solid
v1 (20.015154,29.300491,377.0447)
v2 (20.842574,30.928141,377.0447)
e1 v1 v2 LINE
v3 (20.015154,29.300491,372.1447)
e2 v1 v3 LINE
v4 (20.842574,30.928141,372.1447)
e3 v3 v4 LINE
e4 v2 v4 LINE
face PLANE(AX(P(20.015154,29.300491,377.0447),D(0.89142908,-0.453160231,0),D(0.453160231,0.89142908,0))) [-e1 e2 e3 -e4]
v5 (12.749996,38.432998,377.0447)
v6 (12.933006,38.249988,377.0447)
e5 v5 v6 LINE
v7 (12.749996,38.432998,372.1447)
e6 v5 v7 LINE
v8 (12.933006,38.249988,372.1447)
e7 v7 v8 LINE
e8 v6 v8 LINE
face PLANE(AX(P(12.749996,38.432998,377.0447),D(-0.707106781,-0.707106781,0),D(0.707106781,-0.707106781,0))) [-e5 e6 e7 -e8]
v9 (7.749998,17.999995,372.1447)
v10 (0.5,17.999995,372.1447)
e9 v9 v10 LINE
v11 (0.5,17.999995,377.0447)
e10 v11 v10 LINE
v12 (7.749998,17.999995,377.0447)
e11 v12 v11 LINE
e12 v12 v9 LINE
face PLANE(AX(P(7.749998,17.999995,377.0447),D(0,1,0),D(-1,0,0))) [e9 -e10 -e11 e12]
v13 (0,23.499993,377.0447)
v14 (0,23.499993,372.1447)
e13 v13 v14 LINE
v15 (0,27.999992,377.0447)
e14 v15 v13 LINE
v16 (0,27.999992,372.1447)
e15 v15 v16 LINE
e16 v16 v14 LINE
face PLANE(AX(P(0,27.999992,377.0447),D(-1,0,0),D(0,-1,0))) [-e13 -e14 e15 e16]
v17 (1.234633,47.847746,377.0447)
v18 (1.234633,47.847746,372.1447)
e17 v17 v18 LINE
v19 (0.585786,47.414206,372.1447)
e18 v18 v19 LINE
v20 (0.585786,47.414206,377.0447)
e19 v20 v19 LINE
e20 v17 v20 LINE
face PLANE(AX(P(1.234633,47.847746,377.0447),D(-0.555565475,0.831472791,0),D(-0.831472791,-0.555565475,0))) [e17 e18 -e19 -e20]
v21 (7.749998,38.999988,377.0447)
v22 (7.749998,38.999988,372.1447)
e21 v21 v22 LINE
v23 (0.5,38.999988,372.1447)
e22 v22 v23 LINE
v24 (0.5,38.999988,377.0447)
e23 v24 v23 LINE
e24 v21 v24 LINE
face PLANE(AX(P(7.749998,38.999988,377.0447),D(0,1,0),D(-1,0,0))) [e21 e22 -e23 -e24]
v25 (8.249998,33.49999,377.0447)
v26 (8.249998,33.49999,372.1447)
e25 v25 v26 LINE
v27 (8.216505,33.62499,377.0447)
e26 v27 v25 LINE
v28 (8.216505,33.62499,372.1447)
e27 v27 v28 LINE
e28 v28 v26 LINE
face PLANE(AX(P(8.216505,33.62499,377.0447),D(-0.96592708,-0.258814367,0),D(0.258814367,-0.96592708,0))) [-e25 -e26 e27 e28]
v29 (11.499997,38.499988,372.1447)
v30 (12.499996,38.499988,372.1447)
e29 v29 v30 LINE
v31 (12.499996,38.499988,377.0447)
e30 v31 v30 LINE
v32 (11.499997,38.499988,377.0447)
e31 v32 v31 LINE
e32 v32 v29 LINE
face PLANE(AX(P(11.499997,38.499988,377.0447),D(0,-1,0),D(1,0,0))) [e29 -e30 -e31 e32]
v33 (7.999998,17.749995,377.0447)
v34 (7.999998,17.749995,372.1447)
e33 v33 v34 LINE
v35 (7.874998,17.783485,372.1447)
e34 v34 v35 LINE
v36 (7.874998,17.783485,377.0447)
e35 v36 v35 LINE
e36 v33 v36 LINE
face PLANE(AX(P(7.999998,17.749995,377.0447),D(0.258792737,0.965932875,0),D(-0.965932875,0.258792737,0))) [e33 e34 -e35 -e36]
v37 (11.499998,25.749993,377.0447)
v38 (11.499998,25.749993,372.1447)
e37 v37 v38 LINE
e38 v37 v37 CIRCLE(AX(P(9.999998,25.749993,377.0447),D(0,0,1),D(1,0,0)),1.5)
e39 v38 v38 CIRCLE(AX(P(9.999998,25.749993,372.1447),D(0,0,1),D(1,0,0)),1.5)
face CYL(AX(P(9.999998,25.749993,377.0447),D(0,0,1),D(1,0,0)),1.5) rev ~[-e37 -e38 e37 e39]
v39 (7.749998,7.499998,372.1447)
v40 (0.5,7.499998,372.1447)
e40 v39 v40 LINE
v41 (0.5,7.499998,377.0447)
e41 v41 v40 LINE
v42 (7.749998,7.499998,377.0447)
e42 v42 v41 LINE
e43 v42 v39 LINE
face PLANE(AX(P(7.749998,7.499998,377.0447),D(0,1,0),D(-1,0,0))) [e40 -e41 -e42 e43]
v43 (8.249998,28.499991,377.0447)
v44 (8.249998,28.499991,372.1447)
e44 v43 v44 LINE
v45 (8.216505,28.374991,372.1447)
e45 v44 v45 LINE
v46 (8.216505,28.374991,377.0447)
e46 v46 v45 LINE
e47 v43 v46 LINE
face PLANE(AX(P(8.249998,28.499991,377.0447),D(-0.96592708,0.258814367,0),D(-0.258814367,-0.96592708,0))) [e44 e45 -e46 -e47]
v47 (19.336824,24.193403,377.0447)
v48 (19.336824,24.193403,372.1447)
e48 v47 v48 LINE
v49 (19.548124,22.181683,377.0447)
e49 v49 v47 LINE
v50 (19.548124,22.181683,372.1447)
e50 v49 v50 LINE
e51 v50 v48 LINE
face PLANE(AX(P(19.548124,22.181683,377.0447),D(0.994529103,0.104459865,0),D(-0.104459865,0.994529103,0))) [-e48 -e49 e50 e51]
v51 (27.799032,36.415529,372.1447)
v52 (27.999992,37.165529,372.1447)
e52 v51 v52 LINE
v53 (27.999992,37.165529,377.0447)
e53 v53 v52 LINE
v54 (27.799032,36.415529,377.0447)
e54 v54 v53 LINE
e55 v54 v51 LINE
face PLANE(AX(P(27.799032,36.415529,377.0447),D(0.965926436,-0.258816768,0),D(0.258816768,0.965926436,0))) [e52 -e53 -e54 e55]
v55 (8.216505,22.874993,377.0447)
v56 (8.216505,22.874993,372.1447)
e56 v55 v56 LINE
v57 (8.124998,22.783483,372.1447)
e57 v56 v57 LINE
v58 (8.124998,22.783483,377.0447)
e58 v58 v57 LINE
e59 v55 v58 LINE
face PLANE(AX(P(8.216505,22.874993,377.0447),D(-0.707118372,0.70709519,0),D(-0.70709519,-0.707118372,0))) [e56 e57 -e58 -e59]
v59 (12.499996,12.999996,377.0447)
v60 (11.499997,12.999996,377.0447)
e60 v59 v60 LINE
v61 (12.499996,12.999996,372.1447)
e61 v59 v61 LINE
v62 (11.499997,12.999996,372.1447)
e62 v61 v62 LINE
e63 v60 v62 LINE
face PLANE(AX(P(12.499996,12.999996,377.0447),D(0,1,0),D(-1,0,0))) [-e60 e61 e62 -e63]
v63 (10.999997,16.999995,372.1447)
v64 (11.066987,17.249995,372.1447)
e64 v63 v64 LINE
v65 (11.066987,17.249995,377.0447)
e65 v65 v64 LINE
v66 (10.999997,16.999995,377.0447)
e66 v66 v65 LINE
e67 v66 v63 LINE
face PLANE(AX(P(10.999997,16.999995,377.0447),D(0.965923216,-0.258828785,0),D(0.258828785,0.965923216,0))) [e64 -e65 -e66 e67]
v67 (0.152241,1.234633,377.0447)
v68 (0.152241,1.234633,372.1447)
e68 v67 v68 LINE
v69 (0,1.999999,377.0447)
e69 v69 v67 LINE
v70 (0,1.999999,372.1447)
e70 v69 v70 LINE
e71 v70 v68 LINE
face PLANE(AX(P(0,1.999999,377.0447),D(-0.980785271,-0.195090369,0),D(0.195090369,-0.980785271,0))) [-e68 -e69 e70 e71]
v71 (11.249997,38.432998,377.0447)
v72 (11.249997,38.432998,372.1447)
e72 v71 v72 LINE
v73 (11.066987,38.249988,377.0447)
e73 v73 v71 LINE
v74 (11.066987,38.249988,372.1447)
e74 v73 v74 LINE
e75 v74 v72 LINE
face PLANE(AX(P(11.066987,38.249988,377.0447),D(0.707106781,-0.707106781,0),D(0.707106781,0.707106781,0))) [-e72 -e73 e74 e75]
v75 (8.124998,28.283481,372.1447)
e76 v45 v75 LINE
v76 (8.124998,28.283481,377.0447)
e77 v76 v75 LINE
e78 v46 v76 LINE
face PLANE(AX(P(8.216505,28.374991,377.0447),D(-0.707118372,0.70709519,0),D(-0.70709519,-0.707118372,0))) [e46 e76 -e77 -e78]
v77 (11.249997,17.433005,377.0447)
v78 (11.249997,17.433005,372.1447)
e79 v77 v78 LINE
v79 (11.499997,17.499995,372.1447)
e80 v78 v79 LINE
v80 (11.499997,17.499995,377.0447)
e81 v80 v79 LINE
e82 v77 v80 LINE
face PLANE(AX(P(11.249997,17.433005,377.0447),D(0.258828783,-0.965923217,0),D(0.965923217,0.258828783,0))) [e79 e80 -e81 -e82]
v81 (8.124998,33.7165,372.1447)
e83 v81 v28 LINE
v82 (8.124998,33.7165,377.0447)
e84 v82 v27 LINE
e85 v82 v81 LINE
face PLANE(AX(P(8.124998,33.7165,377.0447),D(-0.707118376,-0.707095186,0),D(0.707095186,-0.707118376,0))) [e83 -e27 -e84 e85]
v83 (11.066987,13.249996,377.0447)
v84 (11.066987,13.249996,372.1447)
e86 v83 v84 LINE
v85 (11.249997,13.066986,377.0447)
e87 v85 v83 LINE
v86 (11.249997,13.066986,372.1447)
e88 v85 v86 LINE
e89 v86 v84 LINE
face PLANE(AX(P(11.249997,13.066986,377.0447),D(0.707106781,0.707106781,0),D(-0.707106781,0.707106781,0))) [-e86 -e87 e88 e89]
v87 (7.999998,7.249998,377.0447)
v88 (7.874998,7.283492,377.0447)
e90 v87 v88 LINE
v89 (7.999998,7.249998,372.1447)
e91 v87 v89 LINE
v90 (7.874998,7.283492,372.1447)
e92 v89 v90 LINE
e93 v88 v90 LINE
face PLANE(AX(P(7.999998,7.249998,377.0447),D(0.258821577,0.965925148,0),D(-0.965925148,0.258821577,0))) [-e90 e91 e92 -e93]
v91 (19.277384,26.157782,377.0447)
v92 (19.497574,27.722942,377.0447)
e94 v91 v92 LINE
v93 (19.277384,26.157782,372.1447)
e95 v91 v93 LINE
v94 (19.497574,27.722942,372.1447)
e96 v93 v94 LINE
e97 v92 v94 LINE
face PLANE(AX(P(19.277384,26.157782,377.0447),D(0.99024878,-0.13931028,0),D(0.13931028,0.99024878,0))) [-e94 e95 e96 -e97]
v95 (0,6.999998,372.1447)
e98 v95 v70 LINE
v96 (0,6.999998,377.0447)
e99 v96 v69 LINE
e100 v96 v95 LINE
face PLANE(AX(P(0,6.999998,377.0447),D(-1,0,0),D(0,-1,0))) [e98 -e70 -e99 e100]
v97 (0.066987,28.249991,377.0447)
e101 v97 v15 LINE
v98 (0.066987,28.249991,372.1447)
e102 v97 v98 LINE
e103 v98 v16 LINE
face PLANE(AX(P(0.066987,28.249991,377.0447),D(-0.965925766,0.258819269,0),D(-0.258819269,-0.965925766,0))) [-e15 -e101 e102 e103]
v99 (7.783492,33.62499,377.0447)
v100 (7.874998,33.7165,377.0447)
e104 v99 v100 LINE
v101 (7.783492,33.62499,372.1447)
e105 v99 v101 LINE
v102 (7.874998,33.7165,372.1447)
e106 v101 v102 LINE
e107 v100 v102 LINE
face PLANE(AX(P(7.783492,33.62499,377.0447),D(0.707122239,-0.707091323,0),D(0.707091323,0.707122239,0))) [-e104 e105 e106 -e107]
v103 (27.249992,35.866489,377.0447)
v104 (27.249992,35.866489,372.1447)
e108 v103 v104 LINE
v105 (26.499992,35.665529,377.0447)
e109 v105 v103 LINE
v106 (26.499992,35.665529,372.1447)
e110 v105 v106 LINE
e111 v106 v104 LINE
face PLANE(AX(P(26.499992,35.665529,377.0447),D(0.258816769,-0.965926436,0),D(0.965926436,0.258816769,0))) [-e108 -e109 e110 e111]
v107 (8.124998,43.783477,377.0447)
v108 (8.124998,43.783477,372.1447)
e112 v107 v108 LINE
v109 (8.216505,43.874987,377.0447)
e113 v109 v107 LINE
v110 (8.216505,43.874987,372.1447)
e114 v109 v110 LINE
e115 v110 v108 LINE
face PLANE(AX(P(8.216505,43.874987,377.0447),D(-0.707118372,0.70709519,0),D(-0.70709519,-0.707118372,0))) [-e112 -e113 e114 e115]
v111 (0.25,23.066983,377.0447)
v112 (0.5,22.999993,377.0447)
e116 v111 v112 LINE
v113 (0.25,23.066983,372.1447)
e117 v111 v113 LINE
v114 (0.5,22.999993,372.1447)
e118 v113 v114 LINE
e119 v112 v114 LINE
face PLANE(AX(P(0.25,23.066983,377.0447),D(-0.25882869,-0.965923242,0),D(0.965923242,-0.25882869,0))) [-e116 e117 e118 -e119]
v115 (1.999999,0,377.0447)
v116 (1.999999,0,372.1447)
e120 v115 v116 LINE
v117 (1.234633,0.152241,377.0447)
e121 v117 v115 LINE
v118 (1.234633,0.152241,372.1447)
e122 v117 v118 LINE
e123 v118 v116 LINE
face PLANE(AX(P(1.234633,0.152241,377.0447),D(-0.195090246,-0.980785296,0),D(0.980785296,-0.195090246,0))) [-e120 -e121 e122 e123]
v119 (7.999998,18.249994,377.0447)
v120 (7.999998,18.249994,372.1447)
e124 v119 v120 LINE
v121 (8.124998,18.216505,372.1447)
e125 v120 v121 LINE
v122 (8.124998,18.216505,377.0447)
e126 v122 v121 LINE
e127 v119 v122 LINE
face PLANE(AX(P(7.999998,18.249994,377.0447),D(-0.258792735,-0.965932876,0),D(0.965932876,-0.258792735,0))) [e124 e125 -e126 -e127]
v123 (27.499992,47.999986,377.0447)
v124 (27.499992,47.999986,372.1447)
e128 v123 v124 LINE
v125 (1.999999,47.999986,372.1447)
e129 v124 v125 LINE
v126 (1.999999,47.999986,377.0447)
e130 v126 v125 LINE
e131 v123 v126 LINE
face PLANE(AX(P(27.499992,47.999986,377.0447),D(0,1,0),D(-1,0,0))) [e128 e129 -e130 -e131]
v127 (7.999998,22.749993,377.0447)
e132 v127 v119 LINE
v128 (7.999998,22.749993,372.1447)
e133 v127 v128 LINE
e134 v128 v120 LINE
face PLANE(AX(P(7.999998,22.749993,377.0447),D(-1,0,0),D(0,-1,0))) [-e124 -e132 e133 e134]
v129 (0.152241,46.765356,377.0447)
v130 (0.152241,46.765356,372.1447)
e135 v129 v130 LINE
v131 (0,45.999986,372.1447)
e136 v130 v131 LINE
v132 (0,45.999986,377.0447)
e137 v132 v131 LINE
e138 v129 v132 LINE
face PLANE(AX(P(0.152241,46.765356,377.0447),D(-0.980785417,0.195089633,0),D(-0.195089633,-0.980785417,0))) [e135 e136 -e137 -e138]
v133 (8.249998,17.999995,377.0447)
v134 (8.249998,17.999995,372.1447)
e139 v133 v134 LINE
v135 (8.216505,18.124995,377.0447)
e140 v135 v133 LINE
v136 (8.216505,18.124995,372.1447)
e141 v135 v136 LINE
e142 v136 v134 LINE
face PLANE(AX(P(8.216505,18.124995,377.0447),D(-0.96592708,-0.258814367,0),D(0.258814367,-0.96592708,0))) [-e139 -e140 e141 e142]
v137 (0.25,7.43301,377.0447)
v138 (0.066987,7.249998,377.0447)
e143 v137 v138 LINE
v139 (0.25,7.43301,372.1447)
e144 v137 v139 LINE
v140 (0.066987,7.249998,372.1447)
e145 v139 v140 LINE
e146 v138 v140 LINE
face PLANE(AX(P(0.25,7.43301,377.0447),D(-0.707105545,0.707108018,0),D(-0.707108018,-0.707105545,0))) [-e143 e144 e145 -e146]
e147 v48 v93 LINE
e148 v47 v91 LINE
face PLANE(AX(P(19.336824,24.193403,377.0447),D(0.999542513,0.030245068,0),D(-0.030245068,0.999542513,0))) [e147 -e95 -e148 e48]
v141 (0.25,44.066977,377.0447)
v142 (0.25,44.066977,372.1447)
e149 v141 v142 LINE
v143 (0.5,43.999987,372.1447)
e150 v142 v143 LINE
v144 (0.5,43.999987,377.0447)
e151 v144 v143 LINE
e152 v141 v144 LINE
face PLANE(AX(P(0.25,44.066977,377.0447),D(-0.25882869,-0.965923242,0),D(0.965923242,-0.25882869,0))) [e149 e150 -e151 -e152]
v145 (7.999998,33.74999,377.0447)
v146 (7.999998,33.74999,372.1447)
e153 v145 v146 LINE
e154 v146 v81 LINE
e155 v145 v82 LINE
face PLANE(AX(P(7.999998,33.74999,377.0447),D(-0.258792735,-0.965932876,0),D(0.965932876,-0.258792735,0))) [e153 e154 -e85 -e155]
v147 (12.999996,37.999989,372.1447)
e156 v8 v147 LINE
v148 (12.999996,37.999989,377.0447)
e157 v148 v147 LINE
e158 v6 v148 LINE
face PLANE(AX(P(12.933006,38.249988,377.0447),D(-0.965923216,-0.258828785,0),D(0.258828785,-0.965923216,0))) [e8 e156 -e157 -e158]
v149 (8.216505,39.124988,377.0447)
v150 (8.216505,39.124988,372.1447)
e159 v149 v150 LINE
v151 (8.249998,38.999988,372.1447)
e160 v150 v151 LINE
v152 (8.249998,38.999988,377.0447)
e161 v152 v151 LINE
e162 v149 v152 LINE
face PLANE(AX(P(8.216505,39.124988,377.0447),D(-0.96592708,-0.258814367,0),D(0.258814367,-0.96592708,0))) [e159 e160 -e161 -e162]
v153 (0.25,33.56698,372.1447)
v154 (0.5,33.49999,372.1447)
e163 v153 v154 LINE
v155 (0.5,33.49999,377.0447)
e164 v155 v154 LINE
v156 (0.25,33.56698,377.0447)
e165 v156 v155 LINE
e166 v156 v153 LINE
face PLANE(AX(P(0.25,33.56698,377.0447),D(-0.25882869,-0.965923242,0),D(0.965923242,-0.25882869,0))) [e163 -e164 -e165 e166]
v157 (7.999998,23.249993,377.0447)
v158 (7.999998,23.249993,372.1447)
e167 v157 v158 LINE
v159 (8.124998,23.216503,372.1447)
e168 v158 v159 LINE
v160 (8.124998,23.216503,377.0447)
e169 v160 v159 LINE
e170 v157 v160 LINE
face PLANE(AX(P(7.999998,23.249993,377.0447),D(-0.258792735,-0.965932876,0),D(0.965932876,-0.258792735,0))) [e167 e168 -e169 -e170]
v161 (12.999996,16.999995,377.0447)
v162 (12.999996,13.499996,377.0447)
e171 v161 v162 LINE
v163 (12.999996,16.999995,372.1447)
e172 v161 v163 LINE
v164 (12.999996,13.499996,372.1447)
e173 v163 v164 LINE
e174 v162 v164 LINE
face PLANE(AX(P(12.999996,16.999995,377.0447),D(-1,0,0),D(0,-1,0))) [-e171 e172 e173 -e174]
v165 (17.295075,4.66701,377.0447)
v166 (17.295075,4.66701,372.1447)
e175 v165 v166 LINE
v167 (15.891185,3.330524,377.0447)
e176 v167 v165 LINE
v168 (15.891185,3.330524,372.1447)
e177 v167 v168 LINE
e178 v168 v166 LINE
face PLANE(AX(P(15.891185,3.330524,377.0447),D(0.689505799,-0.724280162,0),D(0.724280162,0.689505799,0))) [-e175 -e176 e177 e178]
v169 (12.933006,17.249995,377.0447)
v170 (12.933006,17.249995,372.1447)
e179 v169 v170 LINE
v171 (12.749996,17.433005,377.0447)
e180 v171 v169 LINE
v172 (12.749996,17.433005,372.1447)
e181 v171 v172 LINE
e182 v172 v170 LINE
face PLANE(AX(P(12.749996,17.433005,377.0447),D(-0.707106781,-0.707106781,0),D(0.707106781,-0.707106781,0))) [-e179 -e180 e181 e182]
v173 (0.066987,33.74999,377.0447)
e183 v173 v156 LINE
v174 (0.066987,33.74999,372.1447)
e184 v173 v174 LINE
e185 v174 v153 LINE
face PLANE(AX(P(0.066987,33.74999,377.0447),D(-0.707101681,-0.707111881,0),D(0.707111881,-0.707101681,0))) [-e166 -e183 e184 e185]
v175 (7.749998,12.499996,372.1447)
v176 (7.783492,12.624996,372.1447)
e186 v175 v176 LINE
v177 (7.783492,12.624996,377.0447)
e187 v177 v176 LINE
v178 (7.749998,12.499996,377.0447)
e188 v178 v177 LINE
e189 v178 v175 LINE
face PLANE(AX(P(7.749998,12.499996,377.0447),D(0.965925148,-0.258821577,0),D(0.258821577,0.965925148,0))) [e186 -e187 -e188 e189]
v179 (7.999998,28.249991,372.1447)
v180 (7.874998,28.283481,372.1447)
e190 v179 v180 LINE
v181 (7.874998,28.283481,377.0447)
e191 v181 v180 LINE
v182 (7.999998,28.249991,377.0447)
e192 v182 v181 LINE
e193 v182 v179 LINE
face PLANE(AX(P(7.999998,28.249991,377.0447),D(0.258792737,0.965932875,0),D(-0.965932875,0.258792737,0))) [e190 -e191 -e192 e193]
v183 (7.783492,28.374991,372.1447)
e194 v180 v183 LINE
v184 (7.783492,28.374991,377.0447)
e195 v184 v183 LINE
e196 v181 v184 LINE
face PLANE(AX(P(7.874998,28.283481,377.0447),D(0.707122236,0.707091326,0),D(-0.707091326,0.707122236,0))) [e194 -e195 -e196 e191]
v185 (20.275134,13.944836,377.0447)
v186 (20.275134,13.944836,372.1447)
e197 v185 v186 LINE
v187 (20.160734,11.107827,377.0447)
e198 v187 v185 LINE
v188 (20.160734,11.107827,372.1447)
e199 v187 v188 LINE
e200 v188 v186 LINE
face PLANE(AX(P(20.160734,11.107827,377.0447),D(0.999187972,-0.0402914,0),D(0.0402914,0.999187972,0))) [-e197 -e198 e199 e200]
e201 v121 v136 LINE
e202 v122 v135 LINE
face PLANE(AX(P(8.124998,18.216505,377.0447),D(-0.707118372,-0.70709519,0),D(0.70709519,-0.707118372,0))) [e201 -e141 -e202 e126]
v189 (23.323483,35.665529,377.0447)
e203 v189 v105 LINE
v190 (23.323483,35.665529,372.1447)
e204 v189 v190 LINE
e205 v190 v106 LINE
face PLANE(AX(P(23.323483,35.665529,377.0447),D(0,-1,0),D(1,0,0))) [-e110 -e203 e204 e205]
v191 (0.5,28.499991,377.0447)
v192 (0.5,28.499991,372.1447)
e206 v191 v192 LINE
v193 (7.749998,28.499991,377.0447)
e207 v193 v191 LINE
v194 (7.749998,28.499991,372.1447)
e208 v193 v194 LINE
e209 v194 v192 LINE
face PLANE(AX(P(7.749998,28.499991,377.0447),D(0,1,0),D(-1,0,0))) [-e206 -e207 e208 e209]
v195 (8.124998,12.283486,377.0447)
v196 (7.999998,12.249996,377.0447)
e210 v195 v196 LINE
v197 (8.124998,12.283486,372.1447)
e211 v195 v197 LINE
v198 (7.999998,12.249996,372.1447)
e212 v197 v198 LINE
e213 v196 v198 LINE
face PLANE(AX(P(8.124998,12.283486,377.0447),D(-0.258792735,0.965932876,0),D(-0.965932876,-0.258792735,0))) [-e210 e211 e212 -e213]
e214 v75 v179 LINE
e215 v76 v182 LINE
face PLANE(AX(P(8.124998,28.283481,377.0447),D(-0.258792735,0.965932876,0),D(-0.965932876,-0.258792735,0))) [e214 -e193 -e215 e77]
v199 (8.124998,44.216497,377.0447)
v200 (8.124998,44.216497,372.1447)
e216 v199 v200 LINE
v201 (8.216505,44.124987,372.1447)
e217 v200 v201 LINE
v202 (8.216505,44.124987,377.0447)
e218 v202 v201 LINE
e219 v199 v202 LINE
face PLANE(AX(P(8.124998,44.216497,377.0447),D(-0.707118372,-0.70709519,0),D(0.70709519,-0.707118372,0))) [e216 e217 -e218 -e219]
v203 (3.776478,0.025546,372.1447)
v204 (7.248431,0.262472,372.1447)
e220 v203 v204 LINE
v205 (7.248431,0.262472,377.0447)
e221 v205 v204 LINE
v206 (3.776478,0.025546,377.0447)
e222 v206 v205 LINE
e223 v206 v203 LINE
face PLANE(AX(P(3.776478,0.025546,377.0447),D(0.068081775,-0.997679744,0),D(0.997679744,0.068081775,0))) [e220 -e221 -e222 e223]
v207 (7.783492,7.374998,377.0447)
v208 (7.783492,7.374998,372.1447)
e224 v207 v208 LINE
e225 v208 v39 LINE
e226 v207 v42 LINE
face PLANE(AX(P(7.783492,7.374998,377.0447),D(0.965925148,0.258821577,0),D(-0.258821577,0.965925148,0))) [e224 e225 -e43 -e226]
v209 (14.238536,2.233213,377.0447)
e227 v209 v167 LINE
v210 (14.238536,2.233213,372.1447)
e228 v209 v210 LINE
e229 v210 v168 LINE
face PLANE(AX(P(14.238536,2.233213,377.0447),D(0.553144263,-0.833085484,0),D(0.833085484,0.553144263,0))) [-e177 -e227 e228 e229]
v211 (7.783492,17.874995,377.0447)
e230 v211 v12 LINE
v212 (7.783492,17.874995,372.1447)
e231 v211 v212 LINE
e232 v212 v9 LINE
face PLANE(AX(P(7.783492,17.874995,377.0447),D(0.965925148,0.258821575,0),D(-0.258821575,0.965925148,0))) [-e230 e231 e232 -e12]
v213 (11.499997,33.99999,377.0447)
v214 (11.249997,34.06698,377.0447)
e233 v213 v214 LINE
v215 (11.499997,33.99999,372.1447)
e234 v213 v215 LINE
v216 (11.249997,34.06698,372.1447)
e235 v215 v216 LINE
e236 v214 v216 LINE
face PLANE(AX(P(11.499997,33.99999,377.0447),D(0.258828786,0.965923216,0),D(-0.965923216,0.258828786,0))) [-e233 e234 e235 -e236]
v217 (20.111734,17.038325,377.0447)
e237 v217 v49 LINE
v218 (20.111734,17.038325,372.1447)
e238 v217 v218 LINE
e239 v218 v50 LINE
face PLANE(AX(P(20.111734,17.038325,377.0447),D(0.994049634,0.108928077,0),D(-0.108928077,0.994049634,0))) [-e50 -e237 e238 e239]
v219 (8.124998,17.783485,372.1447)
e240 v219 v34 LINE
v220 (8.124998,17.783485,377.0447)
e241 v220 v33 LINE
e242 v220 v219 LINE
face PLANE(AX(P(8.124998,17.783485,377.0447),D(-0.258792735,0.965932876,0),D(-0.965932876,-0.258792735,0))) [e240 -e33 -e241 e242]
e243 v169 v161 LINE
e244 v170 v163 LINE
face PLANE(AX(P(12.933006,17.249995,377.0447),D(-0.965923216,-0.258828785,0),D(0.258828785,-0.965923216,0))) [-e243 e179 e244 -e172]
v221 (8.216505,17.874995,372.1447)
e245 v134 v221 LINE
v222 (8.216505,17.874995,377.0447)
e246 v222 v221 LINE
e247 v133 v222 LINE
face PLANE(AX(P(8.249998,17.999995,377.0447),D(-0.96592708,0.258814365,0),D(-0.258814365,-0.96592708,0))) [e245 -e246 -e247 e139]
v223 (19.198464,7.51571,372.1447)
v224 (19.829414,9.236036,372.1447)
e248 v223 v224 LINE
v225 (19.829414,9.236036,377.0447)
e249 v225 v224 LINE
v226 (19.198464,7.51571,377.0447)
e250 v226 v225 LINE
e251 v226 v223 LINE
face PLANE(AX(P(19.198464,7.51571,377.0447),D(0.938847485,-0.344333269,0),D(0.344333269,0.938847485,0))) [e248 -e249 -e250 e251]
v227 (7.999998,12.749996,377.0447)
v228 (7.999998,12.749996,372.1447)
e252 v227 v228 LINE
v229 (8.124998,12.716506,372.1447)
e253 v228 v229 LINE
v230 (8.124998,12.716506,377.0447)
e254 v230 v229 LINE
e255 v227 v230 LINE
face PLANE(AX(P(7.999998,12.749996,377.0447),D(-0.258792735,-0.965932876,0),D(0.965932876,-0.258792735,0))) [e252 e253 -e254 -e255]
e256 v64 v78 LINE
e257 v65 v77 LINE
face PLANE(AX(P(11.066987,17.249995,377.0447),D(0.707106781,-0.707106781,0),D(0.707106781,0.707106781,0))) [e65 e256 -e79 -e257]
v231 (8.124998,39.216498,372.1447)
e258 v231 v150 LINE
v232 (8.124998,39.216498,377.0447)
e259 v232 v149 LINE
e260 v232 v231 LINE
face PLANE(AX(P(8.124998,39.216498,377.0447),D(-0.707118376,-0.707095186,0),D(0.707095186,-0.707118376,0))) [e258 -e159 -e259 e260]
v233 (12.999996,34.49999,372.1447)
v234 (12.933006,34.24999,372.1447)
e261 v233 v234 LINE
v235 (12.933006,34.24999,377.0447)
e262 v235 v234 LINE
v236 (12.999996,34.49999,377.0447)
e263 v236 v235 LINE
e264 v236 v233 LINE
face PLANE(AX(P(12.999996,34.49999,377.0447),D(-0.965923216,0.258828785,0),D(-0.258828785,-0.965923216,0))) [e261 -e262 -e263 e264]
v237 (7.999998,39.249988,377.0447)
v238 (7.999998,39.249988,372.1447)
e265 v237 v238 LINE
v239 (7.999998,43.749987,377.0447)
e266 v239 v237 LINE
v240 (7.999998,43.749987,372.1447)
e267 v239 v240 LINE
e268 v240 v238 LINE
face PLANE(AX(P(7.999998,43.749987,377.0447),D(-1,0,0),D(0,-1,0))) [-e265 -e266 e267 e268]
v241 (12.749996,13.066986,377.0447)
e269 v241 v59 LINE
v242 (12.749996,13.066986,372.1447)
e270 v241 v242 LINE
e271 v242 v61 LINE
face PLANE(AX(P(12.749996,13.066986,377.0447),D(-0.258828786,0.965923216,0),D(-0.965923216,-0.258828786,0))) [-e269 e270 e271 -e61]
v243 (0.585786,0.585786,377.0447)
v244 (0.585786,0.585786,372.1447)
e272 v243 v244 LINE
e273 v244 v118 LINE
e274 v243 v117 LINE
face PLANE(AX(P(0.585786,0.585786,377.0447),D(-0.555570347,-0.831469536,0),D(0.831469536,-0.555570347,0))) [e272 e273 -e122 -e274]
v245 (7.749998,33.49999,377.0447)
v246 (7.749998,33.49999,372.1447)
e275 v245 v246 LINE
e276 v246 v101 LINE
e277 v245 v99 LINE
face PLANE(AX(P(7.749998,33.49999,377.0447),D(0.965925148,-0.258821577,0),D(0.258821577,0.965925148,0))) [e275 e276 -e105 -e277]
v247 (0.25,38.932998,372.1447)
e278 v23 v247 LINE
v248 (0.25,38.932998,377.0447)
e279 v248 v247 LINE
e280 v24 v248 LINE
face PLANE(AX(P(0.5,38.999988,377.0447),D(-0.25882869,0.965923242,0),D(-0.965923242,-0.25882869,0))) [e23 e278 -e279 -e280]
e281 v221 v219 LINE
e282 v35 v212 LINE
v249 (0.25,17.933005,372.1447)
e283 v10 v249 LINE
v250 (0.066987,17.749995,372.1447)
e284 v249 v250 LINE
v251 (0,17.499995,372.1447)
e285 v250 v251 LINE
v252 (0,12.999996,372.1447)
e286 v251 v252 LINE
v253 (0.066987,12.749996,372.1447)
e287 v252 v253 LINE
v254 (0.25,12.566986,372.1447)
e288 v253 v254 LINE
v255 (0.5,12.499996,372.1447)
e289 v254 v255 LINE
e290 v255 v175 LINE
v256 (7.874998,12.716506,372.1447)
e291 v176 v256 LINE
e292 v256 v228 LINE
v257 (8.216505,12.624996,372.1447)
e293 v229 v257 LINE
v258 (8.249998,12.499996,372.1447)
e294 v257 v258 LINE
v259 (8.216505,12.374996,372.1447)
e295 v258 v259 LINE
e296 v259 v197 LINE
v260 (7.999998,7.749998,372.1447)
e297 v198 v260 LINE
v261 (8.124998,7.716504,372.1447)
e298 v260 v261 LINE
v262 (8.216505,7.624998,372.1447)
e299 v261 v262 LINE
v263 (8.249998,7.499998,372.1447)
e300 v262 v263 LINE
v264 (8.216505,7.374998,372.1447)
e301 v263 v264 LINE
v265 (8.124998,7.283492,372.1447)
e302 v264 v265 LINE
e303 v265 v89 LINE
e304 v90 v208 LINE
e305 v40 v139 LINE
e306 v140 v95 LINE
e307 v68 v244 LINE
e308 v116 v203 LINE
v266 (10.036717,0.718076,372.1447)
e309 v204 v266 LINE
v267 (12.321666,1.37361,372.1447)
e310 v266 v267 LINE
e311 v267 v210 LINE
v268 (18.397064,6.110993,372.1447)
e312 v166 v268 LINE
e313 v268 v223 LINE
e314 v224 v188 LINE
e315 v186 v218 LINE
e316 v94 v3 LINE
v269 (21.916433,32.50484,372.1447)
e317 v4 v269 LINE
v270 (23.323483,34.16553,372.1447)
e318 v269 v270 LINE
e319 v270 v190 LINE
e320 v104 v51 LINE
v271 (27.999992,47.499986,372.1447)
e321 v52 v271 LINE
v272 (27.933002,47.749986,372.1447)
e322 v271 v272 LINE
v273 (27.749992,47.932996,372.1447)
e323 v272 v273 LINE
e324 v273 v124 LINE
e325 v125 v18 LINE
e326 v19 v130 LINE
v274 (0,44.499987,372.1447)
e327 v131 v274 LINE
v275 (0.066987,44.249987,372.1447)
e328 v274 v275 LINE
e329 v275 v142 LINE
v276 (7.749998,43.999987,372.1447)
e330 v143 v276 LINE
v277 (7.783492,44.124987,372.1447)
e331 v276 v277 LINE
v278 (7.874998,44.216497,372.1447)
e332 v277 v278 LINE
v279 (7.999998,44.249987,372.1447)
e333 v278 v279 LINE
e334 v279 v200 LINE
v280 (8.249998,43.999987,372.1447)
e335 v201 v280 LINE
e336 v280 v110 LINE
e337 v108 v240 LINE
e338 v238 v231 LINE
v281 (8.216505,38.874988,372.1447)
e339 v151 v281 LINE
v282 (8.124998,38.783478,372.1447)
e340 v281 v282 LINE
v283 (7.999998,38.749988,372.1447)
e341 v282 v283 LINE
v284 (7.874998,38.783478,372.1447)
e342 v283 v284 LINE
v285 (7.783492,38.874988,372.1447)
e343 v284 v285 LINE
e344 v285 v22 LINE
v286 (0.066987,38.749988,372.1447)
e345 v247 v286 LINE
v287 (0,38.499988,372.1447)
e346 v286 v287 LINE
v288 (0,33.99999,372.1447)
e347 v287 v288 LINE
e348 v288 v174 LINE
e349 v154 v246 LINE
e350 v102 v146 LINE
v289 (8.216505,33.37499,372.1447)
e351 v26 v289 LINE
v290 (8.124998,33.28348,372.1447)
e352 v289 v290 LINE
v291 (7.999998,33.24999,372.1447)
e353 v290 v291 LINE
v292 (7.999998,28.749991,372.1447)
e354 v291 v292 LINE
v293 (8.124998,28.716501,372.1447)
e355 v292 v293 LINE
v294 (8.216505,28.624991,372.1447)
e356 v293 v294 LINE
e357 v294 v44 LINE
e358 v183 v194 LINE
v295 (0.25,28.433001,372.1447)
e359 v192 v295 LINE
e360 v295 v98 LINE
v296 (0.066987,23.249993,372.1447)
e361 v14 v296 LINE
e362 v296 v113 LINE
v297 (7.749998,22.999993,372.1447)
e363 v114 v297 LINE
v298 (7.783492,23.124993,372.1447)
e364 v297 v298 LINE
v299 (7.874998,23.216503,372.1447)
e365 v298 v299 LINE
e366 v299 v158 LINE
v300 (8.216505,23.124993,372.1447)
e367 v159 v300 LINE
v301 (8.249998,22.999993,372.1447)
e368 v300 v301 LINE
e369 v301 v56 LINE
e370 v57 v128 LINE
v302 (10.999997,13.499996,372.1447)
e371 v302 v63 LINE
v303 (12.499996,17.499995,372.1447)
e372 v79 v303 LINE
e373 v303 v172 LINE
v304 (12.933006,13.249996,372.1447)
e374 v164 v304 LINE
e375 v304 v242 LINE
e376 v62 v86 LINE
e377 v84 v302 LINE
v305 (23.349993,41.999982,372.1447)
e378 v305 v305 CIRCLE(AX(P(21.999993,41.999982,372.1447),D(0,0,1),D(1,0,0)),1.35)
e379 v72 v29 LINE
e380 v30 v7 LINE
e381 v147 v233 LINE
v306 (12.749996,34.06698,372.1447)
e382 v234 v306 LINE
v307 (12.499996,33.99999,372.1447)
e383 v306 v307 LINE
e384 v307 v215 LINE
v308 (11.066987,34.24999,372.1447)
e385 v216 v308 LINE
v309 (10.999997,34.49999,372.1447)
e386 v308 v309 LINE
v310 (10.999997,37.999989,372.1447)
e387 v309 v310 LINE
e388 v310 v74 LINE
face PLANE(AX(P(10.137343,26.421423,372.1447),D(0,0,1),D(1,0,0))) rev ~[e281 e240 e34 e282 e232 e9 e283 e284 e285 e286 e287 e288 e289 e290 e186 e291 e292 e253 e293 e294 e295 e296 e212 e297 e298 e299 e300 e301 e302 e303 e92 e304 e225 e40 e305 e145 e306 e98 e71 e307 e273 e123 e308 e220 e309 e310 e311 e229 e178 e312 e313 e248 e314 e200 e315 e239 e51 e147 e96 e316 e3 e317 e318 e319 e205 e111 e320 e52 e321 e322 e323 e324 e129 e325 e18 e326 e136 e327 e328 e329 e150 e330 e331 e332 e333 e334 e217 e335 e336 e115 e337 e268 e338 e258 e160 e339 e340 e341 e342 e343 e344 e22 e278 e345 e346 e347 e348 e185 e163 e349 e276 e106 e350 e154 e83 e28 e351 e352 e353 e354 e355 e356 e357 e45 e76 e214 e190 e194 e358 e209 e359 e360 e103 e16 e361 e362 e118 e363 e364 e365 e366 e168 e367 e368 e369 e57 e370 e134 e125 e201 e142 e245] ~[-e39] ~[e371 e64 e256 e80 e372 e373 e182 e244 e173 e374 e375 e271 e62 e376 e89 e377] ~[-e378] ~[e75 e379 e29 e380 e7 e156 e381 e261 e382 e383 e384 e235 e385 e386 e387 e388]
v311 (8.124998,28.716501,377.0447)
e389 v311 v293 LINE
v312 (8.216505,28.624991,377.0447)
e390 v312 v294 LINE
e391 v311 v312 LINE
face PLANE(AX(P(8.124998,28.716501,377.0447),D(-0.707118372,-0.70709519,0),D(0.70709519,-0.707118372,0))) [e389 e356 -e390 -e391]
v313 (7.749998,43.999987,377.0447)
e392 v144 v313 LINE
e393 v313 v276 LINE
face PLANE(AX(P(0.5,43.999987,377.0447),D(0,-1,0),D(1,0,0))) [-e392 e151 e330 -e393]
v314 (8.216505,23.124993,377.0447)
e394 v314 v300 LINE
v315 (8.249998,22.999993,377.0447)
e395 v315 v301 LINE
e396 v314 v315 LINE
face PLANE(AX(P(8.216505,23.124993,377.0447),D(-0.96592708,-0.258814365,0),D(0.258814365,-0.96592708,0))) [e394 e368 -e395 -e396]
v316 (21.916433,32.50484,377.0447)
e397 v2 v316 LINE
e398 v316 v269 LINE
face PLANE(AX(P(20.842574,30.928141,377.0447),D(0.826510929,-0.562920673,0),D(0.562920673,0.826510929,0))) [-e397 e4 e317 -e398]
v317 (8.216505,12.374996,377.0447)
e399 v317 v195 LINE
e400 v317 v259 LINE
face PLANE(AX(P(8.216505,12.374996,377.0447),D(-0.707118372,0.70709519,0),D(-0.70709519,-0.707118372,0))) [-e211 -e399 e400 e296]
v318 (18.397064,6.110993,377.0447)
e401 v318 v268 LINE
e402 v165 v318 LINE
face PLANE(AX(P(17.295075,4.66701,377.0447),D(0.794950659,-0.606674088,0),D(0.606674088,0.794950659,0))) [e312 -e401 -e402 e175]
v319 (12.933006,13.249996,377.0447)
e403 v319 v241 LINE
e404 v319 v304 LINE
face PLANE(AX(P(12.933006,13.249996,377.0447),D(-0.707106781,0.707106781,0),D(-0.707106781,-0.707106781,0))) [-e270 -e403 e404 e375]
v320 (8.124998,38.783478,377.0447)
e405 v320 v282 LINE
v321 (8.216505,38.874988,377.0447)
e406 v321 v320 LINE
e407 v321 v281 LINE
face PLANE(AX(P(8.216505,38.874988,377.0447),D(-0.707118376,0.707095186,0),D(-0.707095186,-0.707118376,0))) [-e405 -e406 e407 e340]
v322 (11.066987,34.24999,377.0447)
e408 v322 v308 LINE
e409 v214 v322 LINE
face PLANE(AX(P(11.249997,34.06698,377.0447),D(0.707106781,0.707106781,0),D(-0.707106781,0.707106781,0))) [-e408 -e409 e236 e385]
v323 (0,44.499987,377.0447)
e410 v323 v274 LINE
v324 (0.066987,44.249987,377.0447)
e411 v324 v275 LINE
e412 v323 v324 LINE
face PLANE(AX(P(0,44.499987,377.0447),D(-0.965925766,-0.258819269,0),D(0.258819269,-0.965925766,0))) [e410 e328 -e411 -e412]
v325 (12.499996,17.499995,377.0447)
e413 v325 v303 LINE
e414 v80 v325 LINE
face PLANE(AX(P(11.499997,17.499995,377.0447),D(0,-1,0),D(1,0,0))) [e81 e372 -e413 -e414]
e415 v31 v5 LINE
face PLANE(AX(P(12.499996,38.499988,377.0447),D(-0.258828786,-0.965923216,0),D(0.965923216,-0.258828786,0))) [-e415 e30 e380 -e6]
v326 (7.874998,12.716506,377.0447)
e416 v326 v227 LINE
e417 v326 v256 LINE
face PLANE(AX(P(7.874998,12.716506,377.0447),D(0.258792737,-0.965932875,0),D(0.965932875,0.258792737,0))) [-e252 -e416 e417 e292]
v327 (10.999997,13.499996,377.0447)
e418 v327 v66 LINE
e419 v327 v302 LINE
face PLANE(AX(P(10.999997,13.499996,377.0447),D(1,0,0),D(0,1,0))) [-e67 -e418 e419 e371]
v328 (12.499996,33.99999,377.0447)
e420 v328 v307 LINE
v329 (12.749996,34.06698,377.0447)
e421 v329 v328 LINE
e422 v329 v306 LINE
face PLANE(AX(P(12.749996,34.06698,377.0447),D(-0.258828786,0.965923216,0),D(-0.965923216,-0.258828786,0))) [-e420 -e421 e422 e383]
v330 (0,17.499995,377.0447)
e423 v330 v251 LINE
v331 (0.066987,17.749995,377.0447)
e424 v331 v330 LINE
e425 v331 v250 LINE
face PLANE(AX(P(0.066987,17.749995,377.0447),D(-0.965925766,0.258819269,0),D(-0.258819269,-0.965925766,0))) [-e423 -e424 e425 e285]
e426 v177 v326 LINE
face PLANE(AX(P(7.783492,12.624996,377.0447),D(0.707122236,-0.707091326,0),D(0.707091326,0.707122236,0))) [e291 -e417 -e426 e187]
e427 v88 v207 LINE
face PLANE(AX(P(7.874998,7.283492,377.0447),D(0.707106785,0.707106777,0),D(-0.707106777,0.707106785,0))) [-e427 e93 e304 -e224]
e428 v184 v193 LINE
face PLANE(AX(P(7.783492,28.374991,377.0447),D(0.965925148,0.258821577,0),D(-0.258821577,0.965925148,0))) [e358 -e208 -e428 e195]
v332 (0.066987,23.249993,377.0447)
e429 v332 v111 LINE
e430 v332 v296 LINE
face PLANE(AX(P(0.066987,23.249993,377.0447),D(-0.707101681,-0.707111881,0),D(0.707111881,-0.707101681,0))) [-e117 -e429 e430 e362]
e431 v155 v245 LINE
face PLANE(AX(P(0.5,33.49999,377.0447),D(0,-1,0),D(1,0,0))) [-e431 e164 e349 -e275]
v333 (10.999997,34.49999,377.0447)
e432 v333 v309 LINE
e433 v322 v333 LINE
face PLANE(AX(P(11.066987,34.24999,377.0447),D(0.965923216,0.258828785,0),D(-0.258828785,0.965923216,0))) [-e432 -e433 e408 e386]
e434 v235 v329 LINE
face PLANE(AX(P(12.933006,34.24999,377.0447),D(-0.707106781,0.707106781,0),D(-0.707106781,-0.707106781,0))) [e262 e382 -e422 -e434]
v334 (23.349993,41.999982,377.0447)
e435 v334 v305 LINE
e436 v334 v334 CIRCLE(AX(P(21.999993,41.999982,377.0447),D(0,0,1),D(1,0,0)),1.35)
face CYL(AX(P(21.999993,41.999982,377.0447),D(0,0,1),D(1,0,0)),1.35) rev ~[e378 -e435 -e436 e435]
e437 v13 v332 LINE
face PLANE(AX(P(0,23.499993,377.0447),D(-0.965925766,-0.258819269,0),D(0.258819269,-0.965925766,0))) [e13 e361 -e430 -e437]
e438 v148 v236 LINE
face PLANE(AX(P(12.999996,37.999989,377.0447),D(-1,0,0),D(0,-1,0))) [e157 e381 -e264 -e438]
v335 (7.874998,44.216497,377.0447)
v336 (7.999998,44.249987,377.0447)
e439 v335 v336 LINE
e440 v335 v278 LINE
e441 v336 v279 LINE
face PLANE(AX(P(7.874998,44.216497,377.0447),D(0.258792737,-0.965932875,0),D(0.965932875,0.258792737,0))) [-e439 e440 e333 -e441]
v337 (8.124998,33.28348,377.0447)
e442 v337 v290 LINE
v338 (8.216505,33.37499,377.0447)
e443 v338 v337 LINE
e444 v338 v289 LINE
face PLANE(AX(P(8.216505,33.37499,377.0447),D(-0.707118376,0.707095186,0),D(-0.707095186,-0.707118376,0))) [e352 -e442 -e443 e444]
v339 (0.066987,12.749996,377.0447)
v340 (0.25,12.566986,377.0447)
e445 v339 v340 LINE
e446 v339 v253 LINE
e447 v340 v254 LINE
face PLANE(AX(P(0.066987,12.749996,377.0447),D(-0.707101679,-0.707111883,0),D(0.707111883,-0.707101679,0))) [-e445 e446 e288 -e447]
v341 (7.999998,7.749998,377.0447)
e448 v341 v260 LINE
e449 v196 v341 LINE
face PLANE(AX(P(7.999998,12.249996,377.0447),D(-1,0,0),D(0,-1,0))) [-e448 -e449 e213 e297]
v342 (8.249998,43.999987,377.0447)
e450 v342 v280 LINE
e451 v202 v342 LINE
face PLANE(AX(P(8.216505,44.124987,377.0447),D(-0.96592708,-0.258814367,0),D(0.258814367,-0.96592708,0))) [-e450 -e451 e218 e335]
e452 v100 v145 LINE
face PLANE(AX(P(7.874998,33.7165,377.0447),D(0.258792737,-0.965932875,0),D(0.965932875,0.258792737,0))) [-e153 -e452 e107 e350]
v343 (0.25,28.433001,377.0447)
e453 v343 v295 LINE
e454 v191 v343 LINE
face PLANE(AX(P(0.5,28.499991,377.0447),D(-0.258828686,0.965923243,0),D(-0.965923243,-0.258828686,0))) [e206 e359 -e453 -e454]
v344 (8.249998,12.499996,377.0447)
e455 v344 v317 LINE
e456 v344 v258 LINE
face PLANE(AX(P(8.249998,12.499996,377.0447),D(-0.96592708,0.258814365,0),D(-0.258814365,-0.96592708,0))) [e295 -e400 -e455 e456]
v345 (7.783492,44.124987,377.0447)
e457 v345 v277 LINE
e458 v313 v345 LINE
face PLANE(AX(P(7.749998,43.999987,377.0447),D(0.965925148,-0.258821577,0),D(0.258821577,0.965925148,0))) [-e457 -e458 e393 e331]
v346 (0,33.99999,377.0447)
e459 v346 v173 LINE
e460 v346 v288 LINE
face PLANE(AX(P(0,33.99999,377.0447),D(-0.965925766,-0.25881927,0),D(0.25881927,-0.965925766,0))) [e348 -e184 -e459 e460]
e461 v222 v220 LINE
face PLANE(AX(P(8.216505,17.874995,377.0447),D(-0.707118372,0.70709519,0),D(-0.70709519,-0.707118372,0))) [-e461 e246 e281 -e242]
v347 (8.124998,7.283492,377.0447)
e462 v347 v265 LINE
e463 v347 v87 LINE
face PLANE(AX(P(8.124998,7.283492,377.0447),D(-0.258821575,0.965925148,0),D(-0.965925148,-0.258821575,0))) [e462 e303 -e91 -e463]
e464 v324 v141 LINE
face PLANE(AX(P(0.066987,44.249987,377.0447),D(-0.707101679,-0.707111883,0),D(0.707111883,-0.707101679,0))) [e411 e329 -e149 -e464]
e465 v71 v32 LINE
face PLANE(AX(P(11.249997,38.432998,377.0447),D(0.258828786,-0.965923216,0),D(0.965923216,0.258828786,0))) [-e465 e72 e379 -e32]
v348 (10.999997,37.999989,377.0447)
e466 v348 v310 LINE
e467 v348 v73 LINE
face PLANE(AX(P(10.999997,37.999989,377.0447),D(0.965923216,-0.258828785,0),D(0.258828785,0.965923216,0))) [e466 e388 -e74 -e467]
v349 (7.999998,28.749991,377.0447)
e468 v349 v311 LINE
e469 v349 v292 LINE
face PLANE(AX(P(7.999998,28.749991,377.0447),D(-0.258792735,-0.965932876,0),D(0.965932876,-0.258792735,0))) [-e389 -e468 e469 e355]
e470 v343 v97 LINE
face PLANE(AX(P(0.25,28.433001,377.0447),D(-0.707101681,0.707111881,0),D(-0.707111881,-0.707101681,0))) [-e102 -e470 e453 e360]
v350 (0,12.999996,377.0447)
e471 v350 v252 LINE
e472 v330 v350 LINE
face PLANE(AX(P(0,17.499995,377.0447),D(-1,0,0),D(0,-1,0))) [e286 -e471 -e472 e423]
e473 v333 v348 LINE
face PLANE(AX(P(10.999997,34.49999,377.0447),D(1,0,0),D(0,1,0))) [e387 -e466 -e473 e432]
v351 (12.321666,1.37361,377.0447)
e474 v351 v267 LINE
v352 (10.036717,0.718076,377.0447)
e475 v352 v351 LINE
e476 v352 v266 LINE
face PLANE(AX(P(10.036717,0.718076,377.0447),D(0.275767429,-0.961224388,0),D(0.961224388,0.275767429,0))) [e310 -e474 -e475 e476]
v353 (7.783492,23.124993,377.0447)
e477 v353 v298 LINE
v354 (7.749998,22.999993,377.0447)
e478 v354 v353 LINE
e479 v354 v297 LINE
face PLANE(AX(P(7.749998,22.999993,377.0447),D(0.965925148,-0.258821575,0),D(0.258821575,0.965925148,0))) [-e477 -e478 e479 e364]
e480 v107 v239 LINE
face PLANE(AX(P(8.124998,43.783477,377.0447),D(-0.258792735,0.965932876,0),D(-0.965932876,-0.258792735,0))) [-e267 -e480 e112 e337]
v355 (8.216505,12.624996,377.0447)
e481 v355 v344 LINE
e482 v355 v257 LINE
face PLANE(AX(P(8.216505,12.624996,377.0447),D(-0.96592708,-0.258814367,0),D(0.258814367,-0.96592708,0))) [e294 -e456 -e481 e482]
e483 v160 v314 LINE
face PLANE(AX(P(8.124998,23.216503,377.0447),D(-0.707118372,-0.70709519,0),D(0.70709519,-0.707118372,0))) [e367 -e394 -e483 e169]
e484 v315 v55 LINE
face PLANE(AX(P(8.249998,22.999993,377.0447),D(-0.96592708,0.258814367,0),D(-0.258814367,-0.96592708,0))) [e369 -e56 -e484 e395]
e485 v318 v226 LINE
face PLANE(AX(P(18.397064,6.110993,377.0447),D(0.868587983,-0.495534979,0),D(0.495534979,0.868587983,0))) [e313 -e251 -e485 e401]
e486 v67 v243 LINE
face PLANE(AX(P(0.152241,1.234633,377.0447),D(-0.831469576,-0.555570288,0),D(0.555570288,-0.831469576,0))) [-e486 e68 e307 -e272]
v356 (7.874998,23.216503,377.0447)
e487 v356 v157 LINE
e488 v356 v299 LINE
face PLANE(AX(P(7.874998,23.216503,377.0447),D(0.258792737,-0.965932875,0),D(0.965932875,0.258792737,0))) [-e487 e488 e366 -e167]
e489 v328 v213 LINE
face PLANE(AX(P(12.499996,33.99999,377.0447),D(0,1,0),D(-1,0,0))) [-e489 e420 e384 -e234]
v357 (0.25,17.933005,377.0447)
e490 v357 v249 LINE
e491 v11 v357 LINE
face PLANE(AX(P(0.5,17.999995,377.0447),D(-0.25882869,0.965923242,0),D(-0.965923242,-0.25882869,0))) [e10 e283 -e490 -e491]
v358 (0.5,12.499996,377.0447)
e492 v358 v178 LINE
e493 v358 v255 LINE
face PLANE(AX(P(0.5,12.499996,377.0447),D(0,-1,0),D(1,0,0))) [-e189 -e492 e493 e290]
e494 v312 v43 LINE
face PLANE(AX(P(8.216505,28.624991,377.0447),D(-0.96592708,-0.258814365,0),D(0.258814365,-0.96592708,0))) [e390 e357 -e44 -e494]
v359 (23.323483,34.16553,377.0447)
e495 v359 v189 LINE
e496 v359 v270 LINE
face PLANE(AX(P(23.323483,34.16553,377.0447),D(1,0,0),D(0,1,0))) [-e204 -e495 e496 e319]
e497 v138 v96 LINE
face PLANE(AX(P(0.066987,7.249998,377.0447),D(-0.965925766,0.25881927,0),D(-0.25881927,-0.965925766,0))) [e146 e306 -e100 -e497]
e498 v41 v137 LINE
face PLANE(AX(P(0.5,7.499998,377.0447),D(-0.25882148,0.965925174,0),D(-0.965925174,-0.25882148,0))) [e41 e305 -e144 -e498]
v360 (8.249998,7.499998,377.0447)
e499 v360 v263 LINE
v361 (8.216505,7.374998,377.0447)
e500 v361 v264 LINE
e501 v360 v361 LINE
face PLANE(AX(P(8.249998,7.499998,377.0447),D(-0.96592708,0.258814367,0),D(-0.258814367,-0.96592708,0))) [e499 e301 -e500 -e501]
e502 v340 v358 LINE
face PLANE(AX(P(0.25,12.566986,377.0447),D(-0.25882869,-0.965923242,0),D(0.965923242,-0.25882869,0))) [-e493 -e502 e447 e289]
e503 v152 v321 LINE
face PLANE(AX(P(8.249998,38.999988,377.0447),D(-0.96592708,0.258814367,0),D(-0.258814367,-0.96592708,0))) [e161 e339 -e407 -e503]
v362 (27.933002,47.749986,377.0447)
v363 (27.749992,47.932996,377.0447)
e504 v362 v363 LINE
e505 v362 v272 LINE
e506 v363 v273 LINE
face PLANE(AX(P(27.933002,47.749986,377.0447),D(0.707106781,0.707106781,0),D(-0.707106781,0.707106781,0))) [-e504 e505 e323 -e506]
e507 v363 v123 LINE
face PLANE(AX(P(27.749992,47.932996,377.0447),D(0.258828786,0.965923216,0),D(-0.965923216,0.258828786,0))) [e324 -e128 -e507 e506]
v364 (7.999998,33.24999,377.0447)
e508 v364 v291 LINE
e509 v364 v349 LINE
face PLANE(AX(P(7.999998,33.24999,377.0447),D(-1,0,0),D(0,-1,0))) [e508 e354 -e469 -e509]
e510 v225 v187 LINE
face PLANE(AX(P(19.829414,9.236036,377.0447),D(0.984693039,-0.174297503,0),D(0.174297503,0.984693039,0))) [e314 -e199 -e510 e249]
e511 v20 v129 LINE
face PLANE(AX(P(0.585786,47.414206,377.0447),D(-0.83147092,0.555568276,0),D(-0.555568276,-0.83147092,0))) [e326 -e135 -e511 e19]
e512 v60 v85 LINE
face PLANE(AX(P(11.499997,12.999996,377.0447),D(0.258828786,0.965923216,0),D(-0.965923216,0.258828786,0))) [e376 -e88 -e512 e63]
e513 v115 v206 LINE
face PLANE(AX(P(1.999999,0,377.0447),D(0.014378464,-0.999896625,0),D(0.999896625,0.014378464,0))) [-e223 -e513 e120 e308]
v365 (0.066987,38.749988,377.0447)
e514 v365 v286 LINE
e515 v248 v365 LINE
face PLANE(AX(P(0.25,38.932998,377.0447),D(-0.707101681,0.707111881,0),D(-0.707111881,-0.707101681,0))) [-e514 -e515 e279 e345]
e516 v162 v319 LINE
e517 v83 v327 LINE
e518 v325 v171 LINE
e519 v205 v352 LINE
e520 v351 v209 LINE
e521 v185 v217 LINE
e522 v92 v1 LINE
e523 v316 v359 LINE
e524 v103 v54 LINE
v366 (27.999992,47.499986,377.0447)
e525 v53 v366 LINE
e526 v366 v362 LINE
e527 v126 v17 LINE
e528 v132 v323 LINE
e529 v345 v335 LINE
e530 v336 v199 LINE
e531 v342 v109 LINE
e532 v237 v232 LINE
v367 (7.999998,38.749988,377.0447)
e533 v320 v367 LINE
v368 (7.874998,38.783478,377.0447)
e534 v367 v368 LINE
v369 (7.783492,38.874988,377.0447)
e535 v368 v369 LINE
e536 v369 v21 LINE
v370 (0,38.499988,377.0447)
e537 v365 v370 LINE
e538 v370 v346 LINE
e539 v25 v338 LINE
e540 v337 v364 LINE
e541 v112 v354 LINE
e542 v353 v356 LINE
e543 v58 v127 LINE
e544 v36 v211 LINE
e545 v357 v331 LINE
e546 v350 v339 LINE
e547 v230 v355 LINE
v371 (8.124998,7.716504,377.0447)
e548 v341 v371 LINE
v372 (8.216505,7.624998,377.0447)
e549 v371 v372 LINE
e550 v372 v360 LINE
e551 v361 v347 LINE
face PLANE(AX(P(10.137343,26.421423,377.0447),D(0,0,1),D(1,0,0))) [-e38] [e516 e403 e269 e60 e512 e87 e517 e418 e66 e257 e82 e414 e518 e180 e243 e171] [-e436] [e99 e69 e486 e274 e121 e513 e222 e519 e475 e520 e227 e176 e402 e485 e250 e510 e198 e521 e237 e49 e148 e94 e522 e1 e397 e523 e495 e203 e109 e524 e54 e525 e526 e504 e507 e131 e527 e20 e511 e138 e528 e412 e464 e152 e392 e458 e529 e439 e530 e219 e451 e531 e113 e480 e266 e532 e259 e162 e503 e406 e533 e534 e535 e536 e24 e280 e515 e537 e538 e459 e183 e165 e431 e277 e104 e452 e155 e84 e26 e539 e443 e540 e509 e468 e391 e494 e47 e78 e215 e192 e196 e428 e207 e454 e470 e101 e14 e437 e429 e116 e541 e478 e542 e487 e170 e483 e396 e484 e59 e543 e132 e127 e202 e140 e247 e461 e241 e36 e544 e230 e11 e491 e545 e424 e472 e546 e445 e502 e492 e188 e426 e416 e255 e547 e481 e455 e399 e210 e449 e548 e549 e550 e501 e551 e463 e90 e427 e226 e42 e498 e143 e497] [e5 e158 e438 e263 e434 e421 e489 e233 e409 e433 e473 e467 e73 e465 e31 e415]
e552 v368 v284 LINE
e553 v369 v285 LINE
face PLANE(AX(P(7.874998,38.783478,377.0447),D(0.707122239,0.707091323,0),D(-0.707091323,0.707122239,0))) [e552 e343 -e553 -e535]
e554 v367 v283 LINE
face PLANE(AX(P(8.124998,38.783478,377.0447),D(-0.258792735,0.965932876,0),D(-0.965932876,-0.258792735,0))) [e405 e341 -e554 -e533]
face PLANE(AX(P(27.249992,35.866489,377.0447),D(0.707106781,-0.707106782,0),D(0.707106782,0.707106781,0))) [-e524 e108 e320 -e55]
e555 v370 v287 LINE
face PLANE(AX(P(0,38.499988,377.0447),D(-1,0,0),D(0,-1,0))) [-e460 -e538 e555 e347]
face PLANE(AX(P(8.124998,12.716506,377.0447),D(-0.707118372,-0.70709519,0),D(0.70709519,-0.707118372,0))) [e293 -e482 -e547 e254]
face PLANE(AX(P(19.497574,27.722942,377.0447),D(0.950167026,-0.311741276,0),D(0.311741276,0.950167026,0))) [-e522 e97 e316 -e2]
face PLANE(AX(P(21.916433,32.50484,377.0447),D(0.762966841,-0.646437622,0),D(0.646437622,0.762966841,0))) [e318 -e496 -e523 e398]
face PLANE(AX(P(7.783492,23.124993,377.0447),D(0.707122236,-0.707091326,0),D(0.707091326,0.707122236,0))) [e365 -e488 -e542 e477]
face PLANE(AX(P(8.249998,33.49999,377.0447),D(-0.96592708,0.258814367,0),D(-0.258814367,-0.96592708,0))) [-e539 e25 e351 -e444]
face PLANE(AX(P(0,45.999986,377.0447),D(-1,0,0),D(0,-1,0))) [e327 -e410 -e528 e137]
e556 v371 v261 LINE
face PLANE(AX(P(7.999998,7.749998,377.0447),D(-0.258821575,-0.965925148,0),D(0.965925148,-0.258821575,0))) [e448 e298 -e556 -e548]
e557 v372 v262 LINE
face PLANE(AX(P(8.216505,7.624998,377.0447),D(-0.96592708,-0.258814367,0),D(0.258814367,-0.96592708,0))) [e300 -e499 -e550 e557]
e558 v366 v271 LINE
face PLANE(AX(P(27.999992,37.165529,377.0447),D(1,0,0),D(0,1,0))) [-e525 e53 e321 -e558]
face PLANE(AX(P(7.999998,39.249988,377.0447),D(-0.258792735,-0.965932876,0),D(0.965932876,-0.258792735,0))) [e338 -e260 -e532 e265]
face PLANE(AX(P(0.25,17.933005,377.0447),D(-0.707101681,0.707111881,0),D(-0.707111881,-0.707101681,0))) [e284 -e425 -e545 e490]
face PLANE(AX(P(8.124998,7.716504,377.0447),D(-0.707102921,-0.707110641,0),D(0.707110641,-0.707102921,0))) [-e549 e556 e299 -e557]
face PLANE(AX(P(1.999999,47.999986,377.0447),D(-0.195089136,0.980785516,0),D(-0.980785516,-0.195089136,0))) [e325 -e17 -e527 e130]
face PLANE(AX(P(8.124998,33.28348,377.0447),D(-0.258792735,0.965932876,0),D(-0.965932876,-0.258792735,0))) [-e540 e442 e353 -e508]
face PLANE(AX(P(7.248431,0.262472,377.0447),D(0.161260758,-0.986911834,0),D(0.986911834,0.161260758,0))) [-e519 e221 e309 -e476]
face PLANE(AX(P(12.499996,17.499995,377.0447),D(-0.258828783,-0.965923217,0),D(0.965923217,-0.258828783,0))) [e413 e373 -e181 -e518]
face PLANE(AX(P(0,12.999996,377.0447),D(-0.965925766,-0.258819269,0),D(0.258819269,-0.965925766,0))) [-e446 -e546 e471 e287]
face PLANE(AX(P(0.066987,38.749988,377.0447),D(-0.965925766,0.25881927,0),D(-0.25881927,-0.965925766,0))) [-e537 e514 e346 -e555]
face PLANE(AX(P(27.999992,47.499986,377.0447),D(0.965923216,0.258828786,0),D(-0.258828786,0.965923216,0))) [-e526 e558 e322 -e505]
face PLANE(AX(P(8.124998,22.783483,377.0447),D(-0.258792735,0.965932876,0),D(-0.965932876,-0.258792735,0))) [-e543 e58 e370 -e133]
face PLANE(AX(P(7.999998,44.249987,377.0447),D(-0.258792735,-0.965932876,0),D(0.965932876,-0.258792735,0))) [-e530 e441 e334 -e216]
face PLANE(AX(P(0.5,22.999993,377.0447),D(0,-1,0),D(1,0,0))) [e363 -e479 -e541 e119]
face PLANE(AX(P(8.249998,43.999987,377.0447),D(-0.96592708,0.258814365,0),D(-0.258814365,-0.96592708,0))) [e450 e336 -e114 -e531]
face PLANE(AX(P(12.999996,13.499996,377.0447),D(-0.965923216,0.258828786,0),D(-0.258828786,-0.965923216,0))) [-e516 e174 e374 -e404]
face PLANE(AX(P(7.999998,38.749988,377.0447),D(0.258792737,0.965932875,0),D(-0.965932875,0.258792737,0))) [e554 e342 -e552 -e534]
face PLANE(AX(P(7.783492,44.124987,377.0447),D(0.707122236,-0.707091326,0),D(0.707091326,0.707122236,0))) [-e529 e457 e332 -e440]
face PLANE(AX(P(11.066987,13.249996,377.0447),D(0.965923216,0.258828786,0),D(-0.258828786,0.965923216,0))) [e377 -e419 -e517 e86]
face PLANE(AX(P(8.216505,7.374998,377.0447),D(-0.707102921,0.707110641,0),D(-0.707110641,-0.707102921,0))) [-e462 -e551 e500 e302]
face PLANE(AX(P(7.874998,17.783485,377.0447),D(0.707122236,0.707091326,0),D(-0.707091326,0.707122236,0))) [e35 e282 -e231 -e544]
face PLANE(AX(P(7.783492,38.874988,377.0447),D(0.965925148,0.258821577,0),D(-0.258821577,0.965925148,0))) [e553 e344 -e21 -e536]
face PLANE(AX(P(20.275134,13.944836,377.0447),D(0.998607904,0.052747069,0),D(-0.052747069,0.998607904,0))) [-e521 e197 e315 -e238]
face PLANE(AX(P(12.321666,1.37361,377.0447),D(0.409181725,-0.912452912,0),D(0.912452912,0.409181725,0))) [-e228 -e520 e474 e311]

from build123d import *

# Parameters (mm, degrees)
ESQUISSE1_R        = 1.35
ESQUISSE1_R_2      = 1.5
BOSS_EXTRU_1_DEPTH = 4.9


with BuildPart() as part:
    # Esquisse1 → Boss.-Extru.1 (new body)
    with BuildSketch(Plane.XY.offset(377.0447)):
        Polygon((15.891185209, 3.330523996), (17.295074786, 4.667009593), (18.397064454, 6.110993158), (19.198464212, 7.515709734), (19.829414022, 9.236036216), (20.160733922, 11.107826651), (20.275133888, 13.944835796), (20.111733937, 17.038324864), (19.548124107, 22.181683313), (19.336824171, 24.193402707), (19.277384189, 26.157782114), (19.497574122, 27.722941643), (20.015153966, 29.300491167), (20.842573717, 30.928140676), (21.916433393, 32.504840201), (23.323482969, 34.1655297), (23.323482969, 35.665529248), (26.499992011, 35.665529248), (27.249991785, 35.866489188), (27.79903162, 36.415529022), (27.999991559, 37.165528796), (27.999991559, 47.499985681), (27.933001579, 47.749985605), (27.749991634, 47.93299555), (27.49999171, 47.99998553), (1.999999397, 47.99998553), (1.234632628, 47.847745576), (0.585786323, 47.414205706), (0.152240954, 46.765355902), (0, 45.999986133), (0, 44.499986585), (0.06698734, 44.24998666), (0.249999925, 44.066976716), (0.499999949, 43.999986736), (7.749997664, 43.999986736), (7.783491654, 44.124986698), (7.874997626, 44.21649667), (7.999997588, 44.24998666), (8.124997551, 44.21649667), (8.216504523, 44.124986698), (8.249997513, 43.999986736), (8.216504523, 43.874986773), (8.124997551, 43.783476801), (7.999997588, 43.749986811), (7.999997588, 39.249988168), (8.124997551, 39.216498178), (8.216504523, 39.124988205), (8.249997513, 38.999988243), (8.216504523, 38.874988281), (8.124997551, 38.783478308), (7.999997588, 38.749988318), (7.874997626, 38.783478308), (7.783491654, 38.874988281), (7.749997664, 38.999988243), (0.499999949, 38.999988243), (0.249999925, 38.932998263), (0.06698734, 38.749988318), (0, 38.499988394), (0, 33.99998975), (0.06698734, 33.749989826), (0.249999925, 33.566979881), (0.499999949, 33.499989901), (7.749997664, 33.499989901), (7.783491654, 33.624989863), (7.874997626, 33.716499836), (7.999997588, 33.749989826), (8.124997551, 33.716499836), (8.216504523, 33.624989863), (8.249997513, 33.499989901), (8.216504523, 33.374989939), (8.124997551, 33.283479966), (7.999997588, 33.249989976), (7.999997588, 28.749991333), (8.124997551, 28.716501343), (8.216504523, 28.624991371), (8.249997513, 28.499991408), (8.216504523, 28.374991446), (8.124997551, 28.283481474), (7.999997588, 28.249991484), (7.874997626, 28.283481474), (7.783491654, 28.374991446), (7.749997664, 28.499991408), (0.499999949, 28.499991408), (0.249999925, 28.433001429), (0.06698734, 28.249991484), (0, 27.999991559), (0, 23.499992916), (0.06698734, 23.249992991), (0.249999925, 23.066983046), (0.499999949, 22.999993066), (7.749997664, 22.999993066), (7.783491654, 23.124993029), (7.874997626, 23.216503001), (7.999997588, 23.249992991), (8.124997551, 23.216503001), (8.216504523, 23.124993029), (8.249997513, 22.999993066), (8.216504523, 22.874993104), (8.124997551, 22.783483132), (7.999997588, 22.749993142), (7.999997588, 18.249994498), (8.124997551, 18.216504508), (8.216504523, 18.124994536), (8.249997513, 17.999994574), (8.216504523, 17.874994611), (8.124997551, 17.783484639), (7.999997588, 17.749994649), (7.874997626, 17.783484639), (7.783491654, 17.874994611), (7.749997664, 17.999994574), (0.499999949, 17.999994574), (0.249999925, 17.933004594), (0.06698734, 17.749994649), (0, 17.499994724), (0, 12.999996081), (0.06698734, 12.749996156), (0.249999925, 12.566986212), (0.499999949, 12.499996232), (7.749997664, 12.499996232), (7.783491654, 12.624996194), (7.874997626, 12.716506166), (7.999997588, 12.749996156), (8.124997551, 12.716506166), (8.216504523, 12.624996194), (8.249997513, 12.499996232), (8.216504523, 12.374996269), (8.124997551, 12.283486297), (7.999997588, 12.249996307), (7.999997588, 7.749997664), (8.124997551, 7.716503674), (8.216504523, 7.624997701), (8.249997513, 7.499997739), (8.216504523, 7.374997777), (8.124997551, 7.283491804), (7.999997588, 7.249997814), (7.874997626, 7.283491804), (7.783491654, 7.374997777), (7.749997664, 7.499997739), (0.499999949, 7.499997739), (0.249999925, 7.433009759), (0.06698734, 7.249997814), (0, 6.99999789), (0, 1.999999397), (0.152240954, 1.234632628), (0.585786323, 0.585786223), (1.234632628, 0.152240854), (1.999999397, 0), (3.776477862, 0.025545672), (7.248430815, 0.262472121), (10.036716974, 0.718076284), (12.321666285, 1.373609586), (14.238535708, 2.233213327), align=None)
        with Locations((21.999992961, 41.999982339)):
            Circle(ESQUISSE1_R, mode=Mode.SUBTRACT)
        with Locations((9.99999793, 25.749992786)):
            Circle(ESQUISSE1_R_2, mode=Mode.SUBTRACT)
        Polygon((12.933006101, 13.249996006), (12.749996156, 13.066986061), (12.499996232, 12.999996081), (11.499996533, 12.999996081), (11.249996609, 13.066986061), (11.066986664, 13.249996006), (10.999996684, 13.49999593), (10.999996684, 16.999994875), (11.066986664, 17.2499948), (11.249996609, 17.433004745), (11.499996533, 17.499994724), (12.499996232, 17.499994724), (12.749996156, 17.433004745), (12.933006101, 17.2499948), (12.999996081, 16.999994875), (12.999996081, 13.49999593), align=None, mode=Mode.SUBTRACT)
        Polygon((11.249996609, 34.06697973), (11.066986664, 34.249989675), (10.999996684, 34.4999896), (10.999996684, 37.999988544), (11.066986664, 38.249988469), (11.249996609, 38.432998414), (11.499996533, 38.499988394), (12.499996232, 38.499988394), (12.749996156, 38.432998414), (12.933006101, 38.249988469), (12.999996081, 37.999988544), (12.999996081, 34.4999896), (12.933006101, 34.249989675), (12.749996156, 34.06697973), (12.499996232, 33.99998975), (11.499996533, 33.99998975), align=None, mode=Mode.SUBTRACT)
    extrude(amount=-BOSS_EXTRU_1_DEPTH)


solid = part.part
